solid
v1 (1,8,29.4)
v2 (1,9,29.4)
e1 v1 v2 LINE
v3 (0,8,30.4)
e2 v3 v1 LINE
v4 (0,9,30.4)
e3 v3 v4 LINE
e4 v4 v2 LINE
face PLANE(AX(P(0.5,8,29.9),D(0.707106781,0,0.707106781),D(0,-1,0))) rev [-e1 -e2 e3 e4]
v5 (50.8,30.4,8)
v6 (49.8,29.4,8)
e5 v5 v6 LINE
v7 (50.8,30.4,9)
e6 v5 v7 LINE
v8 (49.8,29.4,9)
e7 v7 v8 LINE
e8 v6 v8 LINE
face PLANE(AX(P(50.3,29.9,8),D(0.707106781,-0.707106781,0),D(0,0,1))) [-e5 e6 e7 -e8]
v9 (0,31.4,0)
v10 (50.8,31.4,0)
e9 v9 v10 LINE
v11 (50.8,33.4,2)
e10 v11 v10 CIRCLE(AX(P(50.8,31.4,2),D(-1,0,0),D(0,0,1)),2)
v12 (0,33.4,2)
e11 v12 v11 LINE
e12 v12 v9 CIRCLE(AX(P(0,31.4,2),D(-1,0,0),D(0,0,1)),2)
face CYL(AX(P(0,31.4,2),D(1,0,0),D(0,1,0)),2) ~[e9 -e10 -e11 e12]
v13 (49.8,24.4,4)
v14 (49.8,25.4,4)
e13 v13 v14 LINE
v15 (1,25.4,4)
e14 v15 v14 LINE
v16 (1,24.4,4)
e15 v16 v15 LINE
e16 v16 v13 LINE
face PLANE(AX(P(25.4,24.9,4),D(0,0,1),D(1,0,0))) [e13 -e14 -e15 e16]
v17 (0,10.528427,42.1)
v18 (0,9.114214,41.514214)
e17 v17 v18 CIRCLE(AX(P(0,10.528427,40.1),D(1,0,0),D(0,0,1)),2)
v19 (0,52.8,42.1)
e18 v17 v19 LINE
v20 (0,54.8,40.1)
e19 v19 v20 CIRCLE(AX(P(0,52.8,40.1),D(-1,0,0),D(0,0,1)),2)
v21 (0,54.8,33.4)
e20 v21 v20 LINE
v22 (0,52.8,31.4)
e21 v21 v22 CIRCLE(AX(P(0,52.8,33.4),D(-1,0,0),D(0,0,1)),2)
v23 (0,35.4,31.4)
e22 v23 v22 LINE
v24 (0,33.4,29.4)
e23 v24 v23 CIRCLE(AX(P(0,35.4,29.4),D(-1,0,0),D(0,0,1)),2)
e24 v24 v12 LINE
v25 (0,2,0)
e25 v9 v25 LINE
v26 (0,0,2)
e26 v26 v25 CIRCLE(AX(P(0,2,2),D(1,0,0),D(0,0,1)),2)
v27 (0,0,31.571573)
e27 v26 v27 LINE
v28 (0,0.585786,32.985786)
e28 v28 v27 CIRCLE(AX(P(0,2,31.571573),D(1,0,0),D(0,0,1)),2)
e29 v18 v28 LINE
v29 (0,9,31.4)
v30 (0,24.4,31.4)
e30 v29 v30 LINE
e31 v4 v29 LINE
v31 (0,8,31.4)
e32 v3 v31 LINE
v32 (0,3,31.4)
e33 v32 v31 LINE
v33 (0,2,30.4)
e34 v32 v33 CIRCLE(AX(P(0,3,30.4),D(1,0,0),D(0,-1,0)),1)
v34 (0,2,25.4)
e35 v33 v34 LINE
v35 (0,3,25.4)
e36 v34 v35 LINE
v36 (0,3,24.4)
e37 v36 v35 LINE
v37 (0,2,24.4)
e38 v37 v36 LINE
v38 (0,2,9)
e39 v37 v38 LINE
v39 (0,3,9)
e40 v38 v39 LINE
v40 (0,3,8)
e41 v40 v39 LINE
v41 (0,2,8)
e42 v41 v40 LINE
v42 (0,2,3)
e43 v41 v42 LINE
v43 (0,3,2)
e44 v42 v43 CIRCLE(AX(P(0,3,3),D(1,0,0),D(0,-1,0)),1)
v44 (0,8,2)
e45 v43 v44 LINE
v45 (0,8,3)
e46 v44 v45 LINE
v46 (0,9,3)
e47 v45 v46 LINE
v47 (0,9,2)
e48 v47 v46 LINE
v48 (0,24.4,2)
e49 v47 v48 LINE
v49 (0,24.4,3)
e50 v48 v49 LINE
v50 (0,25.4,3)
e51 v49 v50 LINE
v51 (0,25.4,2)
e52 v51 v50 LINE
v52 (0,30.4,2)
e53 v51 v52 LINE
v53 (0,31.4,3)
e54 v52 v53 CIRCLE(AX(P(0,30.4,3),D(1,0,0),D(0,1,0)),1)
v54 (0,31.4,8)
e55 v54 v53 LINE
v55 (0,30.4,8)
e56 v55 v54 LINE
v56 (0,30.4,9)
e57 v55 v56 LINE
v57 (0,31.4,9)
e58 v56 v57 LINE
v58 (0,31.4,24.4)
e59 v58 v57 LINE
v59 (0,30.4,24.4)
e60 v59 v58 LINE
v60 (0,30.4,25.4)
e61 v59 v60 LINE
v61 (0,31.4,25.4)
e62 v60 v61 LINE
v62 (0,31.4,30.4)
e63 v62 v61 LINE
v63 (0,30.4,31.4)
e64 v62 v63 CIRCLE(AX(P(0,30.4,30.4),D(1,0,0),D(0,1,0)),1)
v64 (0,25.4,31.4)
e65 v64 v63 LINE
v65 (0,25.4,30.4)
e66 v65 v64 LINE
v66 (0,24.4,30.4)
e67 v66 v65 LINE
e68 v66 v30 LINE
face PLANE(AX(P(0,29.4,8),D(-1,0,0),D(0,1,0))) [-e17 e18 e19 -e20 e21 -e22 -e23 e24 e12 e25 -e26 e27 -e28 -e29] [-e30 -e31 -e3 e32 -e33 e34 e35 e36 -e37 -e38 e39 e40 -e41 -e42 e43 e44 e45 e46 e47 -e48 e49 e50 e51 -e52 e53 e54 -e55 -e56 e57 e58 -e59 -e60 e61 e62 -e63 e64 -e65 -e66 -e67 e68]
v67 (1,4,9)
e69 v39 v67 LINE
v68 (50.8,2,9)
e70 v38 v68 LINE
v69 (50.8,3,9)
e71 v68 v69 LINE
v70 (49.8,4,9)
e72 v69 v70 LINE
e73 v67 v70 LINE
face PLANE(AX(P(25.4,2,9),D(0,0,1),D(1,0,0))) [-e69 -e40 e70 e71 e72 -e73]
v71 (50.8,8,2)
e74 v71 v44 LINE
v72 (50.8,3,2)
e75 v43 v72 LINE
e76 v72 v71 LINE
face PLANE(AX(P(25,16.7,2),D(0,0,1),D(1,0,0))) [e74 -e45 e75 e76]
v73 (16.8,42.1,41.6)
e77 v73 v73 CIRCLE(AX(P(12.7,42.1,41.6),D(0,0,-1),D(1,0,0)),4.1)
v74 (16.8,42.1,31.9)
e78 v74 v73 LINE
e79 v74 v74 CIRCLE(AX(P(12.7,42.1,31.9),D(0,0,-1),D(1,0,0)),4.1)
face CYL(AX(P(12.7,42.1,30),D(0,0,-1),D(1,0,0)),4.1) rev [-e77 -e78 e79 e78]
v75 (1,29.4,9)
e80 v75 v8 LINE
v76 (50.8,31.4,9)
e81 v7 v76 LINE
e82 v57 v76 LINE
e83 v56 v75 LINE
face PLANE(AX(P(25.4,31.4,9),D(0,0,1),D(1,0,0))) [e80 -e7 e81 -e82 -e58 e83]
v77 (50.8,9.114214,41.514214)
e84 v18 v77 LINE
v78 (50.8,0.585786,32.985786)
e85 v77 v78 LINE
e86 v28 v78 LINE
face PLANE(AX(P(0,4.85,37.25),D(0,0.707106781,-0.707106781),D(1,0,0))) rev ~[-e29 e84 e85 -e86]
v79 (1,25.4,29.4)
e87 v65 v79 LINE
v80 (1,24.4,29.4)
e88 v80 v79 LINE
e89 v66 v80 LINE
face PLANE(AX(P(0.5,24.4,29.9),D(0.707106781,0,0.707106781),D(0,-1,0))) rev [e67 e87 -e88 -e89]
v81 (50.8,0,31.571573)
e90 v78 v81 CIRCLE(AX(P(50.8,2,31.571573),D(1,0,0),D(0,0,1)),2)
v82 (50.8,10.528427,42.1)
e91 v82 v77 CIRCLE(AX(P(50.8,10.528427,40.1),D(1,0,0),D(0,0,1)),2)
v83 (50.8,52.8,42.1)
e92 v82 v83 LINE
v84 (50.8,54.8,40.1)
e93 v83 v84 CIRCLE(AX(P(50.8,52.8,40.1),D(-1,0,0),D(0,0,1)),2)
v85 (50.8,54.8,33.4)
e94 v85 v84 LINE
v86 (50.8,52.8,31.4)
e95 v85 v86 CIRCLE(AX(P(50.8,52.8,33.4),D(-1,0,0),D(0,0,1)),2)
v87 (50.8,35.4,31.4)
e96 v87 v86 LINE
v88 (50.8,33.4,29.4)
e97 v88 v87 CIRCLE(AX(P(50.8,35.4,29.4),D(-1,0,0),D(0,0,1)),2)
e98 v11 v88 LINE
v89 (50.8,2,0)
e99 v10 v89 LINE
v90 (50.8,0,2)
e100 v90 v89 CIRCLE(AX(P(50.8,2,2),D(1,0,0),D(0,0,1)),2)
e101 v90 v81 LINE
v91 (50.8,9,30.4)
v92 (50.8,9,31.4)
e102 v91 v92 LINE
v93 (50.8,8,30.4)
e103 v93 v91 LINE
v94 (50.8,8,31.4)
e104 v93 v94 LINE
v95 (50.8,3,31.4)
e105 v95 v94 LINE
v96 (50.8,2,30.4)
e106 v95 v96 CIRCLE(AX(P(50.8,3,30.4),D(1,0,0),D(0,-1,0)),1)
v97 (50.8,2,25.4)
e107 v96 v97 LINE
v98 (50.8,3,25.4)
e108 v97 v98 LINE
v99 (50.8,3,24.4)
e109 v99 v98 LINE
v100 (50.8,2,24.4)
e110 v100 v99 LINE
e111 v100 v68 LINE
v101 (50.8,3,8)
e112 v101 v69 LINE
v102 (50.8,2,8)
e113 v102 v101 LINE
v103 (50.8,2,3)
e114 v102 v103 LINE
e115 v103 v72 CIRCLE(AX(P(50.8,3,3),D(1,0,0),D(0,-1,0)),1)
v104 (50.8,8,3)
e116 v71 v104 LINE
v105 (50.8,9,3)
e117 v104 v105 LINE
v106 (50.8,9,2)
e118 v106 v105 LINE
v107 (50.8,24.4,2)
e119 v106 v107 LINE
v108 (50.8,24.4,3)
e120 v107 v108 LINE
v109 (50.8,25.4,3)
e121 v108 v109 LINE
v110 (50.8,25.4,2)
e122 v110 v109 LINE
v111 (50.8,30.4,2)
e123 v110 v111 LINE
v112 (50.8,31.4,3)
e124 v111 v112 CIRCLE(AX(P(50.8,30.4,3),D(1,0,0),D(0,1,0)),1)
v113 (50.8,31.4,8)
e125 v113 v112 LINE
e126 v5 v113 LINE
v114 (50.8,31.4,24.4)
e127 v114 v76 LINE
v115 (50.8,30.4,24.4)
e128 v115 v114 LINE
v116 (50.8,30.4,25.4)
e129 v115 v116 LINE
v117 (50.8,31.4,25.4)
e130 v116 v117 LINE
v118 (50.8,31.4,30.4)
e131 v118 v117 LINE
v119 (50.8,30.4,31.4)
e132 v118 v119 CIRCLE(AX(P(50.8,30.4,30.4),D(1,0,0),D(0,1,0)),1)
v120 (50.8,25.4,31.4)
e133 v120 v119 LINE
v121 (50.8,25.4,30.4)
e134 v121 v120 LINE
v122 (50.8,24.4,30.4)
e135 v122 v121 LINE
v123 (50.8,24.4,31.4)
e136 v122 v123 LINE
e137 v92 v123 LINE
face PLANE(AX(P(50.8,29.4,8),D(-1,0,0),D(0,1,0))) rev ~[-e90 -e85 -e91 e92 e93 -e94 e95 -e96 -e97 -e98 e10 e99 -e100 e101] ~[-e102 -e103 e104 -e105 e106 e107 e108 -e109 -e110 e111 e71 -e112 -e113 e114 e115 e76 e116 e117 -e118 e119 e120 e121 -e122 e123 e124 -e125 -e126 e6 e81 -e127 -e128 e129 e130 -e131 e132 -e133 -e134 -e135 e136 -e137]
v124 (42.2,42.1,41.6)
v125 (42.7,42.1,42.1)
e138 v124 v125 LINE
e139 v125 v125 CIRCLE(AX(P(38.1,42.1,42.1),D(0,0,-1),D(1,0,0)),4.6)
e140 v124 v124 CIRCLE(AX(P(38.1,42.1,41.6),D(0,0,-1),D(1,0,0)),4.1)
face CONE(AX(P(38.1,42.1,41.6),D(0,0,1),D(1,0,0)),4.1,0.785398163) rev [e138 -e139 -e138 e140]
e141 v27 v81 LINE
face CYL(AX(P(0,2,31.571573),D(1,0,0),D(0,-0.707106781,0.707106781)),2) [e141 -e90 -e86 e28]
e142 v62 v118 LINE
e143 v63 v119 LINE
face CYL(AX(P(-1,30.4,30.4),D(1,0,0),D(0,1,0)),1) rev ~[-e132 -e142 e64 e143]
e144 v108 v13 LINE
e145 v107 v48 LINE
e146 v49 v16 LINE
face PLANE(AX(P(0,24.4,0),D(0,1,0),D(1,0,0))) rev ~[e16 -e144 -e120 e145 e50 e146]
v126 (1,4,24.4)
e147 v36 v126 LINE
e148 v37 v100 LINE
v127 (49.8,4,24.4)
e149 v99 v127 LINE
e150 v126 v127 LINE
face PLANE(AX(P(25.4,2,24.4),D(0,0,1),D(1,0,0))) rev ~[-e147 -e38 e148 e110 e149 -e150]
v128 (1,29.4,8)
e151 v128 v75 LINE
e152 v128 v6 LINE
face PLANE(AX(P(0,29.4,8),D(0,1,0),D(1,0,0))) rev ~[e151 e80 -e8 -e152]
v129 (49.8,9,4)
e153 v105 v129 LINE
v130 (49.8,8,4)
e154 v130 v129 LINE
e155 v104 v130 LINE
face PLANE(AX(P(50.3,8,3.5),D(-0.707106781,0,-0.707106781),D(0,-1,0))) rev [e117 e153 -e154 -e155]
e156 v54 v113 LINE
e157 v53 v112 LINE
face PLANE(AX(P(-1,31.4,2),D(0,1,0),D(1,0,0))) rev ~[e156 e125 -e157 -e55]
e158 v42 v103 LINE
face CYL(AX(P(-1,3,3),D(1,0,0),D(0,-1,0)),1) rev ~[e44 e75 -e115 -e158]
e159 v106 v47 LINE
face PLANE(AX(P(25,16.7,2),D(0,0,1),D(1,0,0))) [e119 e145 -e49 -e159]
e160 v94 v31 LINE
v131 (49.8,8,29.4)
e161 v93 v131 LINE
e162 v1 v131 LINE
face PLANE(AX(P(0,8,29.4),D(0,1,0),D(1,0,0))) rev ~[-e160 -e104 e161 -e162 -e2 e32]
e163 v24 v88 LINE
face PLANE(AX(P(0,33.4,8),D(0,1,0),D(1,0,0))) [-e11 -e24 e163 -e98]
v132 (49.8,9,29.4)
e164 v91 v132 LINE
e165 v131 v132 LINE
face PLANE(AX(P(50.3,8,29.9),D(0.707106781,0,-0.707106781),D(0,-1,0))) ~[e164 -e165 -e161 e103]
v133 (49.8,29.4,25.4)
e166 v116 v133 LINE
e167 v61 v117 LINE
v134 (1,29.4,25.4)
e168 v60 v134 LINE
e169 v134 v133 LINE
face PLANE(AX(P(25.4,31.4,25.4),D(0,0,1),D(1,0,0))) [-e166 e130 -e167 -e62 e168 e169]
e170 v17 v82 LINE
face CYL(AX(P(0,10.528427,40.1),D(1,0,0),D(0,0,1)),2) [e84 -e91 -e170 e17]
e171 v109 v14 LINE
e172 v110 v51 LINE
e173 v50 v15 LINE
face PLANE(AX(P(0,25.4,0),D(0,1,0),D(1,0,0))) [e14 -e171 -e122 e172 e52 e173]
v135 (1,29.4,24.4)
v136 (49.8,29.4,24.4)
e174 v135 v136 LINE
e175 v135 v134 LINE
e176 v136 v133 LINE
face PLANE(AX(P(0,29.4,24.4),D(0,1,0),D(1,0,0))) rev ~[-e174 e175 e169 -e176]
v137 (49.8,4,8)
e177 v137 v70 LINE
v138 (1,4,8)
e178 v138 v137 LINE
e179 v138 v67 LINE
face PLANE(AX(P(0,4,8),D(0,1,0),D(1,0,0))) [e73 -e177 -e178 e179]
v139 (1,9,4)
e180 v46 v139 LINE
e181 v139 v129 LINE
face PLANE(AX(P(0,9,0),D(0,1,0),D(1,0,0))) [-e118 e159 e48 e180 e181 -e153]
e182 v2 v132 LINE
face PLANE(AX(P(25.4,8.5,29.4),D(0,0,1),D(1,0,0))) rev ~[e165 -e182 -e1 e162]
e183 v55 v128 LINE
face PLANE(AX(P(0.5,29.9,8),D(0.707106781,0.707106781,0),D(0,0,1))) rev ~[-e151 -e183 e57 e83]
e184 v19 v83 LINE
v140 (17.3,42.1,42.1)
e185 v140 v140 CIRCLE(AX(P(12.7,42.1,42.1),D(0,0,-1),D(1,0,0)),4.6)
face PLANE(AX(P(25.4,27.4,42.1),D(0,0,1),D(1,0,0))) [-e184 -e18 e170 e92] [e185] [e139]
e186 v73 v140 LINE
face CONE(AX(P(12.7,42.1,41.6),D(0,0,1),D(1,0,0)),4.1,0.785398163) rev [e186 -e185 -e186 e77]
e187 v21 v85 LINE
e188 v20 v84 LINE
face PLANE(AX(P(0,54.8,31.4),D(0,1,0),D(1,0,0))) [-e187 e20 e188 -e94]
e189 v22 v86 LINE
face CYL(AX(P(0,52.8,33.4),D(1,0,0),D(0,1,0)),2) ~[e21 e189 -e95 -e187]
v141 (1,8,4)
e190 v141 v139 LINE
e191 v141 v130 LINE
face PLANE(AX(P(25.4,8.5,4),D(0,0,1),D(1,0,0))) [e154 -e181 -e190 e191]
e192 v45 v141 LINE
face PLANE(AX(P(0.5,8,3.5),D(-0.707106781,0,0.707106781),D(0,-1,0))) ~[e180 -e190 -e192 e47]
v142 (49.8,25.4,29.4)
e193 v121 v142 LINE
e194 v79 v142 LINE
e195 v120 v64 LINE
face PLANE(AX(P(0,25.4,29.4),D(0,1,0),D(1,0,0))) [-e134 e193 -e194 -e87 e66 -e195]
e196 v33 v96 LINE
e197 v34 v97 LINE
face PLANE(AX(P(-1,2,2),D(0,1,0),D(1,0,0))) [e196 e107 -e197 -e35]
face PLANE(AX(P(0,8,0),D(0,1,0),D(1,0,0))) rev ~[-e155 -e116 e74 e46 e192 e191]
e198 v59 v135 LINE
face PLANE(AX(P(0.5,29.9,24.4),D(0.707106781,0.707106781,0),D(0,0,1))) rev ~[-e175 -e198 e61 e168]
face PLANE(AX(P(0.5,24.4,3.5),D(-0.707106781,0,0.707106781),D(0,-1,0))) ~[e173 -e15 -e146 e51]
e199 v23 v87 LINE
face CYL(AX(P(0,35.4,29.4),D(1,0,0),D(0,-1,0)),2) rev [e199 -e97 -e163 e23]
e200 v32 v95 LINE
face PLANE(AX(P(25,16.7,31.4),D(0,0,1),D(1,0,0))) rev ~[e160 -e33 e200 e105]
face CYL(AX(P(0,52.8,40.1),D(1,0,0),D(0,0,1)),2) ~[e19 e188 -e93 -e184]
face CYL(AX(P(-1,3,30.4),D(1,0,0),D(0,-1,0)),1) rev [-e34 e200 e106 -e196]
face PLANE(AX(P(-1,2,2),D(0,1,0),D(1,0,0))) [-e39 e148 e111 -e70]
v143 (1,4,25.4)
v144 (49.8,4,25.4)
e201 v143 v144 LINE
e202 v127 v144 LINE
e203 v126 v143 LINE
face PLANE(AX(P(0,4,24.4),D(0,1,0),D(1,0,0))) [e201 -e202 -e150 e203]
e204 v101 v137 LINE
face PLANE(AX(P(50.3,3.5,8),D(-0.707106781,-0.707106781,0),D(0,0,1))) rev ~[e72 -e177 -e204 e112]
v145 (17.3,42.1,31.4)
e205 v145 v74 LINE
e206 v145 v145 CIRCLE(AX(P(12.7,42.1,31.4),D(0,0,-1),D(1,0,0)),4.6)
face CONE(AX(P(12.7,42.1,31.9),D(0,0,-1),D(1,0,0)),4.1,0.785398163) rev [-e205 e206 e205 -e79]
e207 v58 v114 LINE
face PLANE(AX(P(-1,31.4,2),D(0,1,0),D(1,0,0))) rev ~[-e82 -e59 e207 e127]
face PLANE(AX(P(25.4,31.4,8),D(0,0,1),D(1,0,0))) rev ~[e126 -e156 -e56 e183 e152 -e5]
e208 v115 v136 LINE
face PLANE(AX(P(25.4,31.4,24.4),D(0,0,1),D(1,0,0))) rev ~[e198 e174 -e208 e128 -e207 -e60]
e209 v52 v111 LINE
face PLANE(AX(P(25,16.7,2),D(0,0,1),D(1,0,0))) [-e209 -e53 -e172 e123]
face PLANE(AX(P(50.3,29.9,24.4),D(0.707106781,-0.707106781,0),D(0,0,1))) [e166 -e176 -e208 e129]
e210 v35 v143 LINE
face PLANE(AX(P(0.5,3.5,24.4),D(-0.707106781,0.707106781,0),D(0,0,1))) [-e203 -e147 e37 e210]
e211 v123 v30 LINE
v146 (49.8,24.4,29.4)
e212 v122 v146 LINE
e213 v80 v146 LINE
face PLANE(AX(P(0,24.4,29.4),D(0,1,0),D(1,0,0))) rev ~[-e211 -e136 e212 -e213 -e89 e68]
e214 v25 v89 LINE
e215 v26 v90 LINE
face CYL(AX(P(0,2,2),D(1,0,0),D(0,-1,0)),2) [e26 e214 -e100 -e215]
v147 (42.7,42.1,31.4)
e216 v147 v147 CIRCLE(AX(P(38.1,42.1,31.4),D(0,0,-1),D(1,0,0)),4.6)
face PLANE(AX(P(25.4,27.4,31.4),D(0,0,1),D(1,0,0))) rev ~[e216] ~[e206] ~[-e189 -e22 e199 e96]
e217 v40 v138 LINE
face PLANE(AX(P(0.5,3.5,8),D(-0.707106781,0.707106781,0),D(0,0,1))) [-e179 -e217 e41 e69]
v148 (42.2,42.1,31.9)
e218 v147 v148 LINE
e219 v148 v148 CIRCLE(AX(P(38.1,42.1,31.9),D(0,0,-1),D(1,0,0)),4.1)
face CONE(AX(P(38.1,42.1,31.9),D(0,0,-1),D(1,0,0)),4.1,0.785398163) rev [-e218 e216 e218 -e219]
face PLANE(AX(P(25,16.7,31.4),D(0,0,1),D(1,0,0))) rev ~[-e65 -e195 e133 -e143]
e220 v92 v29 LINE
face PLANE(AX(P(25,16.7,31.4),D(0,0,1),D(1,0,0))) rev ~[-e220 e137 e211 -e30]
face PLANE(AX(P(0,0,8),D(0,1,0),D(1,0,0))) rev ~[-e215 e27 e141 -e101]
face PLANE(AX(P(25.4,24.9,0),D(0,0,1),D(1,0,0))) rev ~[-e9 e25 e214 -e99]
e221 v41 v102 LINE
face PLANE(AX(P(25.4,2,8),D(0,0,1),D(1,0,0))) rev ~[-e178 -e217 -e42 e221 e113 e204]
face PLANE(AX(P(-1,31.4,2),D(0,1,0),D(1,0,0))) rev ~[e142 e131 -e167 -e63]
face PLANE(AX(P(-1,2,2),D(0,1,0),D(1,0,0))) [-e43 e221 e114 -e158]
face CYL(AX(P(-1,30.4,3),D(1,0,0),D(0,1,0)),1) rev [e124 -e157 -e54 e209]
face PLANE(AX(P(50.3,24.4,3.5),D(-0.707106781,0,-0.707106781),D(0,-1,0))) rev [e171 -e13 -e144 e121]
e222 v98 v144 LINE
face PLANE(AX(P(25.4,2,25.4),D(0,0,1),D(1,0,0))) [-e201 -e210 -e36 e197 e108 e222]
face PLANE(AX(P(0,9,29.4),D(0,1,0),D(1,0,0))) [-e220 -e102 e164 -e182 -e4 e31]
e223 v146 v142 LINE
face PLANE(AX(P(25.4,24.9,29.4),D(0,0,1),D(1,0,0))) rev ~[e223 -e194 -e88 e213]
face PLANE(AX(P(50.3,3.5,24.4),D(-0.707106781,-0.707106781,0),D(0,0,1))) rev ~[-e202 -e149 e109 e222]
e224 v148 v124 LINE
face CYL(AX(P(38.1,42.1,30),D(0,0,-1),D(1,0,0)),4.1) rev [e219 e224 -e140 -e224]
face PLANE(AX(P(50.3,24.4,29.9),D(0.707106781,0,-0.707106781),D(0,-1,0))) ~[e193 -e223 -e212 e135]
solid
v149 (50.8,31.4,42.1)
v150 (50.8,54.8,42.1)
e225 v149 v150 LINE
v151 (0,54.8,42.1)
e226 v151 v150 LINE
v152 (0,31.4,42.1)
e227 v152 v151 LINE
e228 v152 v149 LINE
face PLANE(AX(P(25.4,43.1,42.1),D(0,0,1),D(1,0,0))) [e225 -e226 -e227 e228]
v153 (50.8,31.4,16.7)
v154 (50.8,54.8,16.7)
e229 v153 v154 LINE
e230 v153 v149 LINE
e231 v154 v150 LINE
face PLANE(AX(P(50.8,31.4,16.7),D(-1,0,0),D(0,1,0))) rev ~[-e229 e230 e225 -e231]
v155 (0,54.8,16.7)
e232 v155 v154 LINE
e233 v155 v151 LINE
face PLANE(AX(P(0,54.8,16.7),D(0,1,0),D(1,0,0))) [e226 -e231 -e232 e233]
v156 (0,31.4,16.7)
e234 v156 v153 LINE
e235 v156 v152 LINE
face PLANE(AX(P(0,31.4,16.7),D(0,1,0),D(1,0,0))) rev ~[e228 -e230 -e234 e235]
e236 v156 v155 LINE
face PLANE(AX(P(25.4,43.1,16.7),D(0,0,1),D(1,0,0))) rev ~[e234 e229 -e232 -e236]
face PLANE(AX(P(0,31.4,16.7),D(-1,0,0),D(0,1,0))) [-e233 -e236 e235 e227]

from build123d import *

# Parameters (mm, degrees)
BOX011_W          = 50.8
BOX011_H          = 23.4
BOX011_DEPTH      = 25.4
BOX005_W          = 50.8
BOX005_H          = 4
BOX005_DEPTH      = 1
BOX008_W          = 50.8
BOX008_H          = 1
BOX008_DEPTH      = 4
BOX009_W          = 50.8
BOX009_H          = 1
BOX009_DEPTH      = 4
BOX003_W          = 50.8
BOX003_H          = 4
BOX003_DEPTH      = 1
BOX002_W          = 50.8
BOX002_H          = 4
BOX002_DEPTH      = 1
BOX006_W          = 50.8
BOX006_H          = 1
BOX006_DEPTH      = 4
BOX007_W          = 50.8
BOX007_H          = 1
BOX007_DEPTH      = 4
BOX004_W          = 50.8
BOX004_H          = 4
BOX004_DEPTH      = 1
CYLINDER001_R     = 4.1
CYLINDER001_DEPTH = 14
CYLINDER_R        = 4.1
CYLINDER_DEPTH    = 14
BOX010_W          = 50.8
BOX010_H          = 54.8
BOX010_DEPTH      = 10.7
BOX_W             = 52
BOX_H             = 29.4
BOX_DEPTH         = 29.4
FILLET001_R       = 1
BOX001_W          = 50.8
BOX001_H          = 33.4
BOX001_DEPTH      = 33.4
FILLET_R          = 2
FILLET002_R       = 2
CHAMFER_SIZE      = 9.7
FILLET003_R       = 2
FILLET004_R       = 2
FILLET005_R       = 2
CHAMFER001_SIZE   = 0.5
CHAMFER002_SIZE   = 1


with BuildPart() as cube011:
    # Box011 → Box011 (new body)
    with BuildSketch(Plane(origin=(0, 31.4, 16.7), x_dir=(1, 0, 0), z_dir=(0, 0, 1))):
        with Locations((25.4, 11.7)):
            Rectangle(BOX011_W, BOX011_H)
    extrude(amount=BOX011_DEPTH)


with BuildPart() as cube005:
    # Box005 → Box005 (new body)
    with BuildSketch(Plane(origin=(0, 29.4, 24.4), x_dir=(1, 0, 0), z_dir=(0, 0, 1))):
        with Locations((25.4, 2)):
            Rectangle(BOX005_W, BOX005_H)
    extrude(amount=BOX005_DEPTH)


with BuildPart() as cube008:
    # Box008 → Box008 (new body)
    with BuildSketch(Plane(origin=(0, 24.4, 29.4), x_dir=(1, 0, 0), z_dir=(0, 0, 1))):
        with Locations((25.4, 0.5)):
            Rectangle(BOX008_W, BOX008_H)
    extrude(amount=BOX008_DEPTH)


with BuildPart() as cube009:
    # Box009 → Box009 (new body)
    with BuildSketch(Plane(origin=(0, 8, 29.4), x_dir=(1, 0, 0), z_dir=(0, 0, 1))):
        with Locations((25.4, 0.5)):
            Rectangle(BOX009_W, BOX009_H)
    extrude(amount=BOX009_DEPTH)


with BuildPart() as cube003:
    # Box003 → Box003 (new body)
    with BuildSketch(Plane.XY.offset(24.4)):
        with Locations((25.4, 2)):
            Rectangle(BOX003_W, BOX003_H)
    extrude(amount=BOX003_DEPTH)


with BuildPart() as cube002:
    # Box002 → Box002 (new body)
    with BuildSketch(Plane.XY.offset(8)):
        with Locations((25.4, 2)):
            Rectangle(BOX002_W, BOX002_H)
    extrude(amount=BOX002_DEPTH)


with BuildPart() as cube006:
    # Box006 → Box006 (new body)
    with BuildSketch(Plane(origin=(0, 8, 0), x_dir=(1, 0, 0), z_dir=(0, 0, 1))):
        with Locations((25.4, 0.5)):
            Rectangle(BOX006_W, BOX006_H)
    extrude(amount=BOX006_DEPTH)


with BuildPart() as cube007:
    # Box007 → Box007 (new body)
    with BuildSketch(Plane(origin=(0, 24.4, 0), x_dir=(1, 0, 0), z_dir=(0, 0, 1))):
        with Locations((25.4, 0.5)):
            Rectangle(BOX007_W, BOX007_H)
    extrude(amount=BOX007_DEPTH)


with BuildPart() as cube004:
    # Box004 → Box004 (new body)
    with BuildSketch(Plane(origin=(0, 29.4, 8), x_dir=(1, 0, 0), z_dir=(0, 0, 1))):
        with Locations((25.4, 2)):
            Rectangle(BOX004_W, BOX004_H)
    extrude(amount=BOX004_DEPTH)


with BuildPart() as cylinder001:
    # Cylinder001 → Cylinder001 (new body)
    with BuildSketch(Plane(origin=(38.1, 42.1, 30), x_dir=(1, 0, 0), z_dir=(0, 0, 1))):
        Circle(CYLINDER001_R)
    extrude(amount=CYLINDER001_DEPTH)


with BuildPart() as cylinder:
    # Cylinder → Cylinder (new body)
    with BuildSketch(Plane(origin=(12.7, 42.1, 30), x_dir=(1, 0, 0), z_dir=(0, 0, 1))):
        Circle(CYLINDER_R)
    extrude(amount=CYLINDER_DEPTH)


with BuildPart() as cube010:
    # Box010 → Box010 (new body)
    with BuildSketch(Plane.XY.offset(31.4)):
        with Locations((25.4, 27.4)):
            Rectangle(BOX010_W, BOX010_H)
    extrude(amount=BOX010_DEPTH)


with BuildPart() as fillet001:
    # Box → Box (new body)
    with BuildSketch(Plane(origin=(-1, 2, 2), x_dir=(1, 0, 0), z_dir=(0, 0, 1))):
        with Locations((26, 14.7)):
            Rectangle(BOX_W, BOX_H)
    extrude(amount=BOX_DEPTH)

    # Fillet001
    fillet001_edges = [fillet001.edges().sort_by_distance(p)[0] for p in [
        (25, 2, 31.4),
        (25, 2, 2),
        (25, 31.4, 31.4),
        (25, 31.4, 2),
    ]]
    fillet(fillet001_edges, radius=FILLET001_R)


with BuildPart() as chamfer002:
    # Box001 → Box001 (new body)
    with BuildSketch(Plane.XY):
        with Locations((25.4, 16.7)):
            Rectangle(BOX001_W, BOX001_H)
    extrude(amount=BOX001_DEPTH)

    # Fillet
    fillet_edges = [chamfer002.edges().sort_by_distance(p)[0] for p in [
        (25.4, 33.4, 0),
        (25.4, 0, 0),
        (25.4, 0, 33.4),
        (25.4, 33.4, 33.4),
    ]]
    fillet(fillet_edges, radius=FILLET_R)

    # Cut: cut Fillet001
    add(fillet001.part, mode=Mode.SUBTRACT)

    # Fusion: union Cube010
    add(cube010.part)

    # Fillet002
    fillet002_edges = [chamfer002.edges().sort_by_distance(p)[0] for p in [
        (25.4, 33.4, 31.4),
    ]]
    fillet(fillet002_edges, radius=FILLET002_R)

    # Chamfer
    chamfer_edges = [chamfer002.edges().sort_by_distance(p)[0] for p in [
        (25.4, 0, 42.1),
    ]]
    chamfer(chamfer_edges, length=CHAMFER_SIZE)

    # Fillet003
    fillet003_edges = [chamfer002.edges().sort_by_distance(p)[0] for p in [
        (25.4, 9.7, 42.1),
    ]]
    fillet(fillet003_edges, radius=FILLET003_R)

    # Fillet004
    fillet004_edges = [chamfer002.edges().sort_by_distance(p)[0] for p in [
        (25.4, 0, 32.4),
    ]]
    fillet(fillet004_edges, radius=FILLET004_R)

    # Fillet005
    fillet005_edges = [chamfer002.edges().sort_by_distance(p)[0] for p in [
        (25.4, 54.8, 42.1),
        (25.4, 54.8, 31.4),
    ]]
    fillet(fillet005_edges, radius=FILLET005_R)

    # Cut001: cut Cylinder
    add(cylinder.part, mode=Mode.SUBTRACT)

    # Cut002: cut Cylinder001
    add(cylinder001.part, mode=Mode.SUBTRACT)

    # Fusion001: union Cube005, Cube008, Cube009, Cube003, Cube002, Cube006, Cube007, Cube004
    add(cube005.part)
    add(cube008.part)
    add(cube009.part)
    add(cube003.part)
    add(cube002.part)
    add(cube006.part)
    add(cube007.part)
    add(cube004.part)

    # Chamfer001
    chamfer001_edges = [chamfer002.edges().sort_by_distance(p)[0] for p in [
        (34, 42.1, 42.1),
        (8.6, 42.1, 42.1),
        (34, 42.1, 31.4),
        (8.6, 42.1, 31.4),
    ]]
    chamfer(chamfer001_edges, length=CHAMFER001_SIZE)

    # Chamfer002
    chamfer002_edges = [chamfer002.edges().sort_by_distance(p)[0] for p in [
        (0, 8.5, 29.4),
        (0, 24.9, 29.4),
        (50.8, 8.5, 29.4),
        (50.8, 24.9, 29.4),
        (0, 29.4, 24.9),
        (50.8, 29.4, 24.9),
        (0, 4, 24.9),
        (50.8, 4, 24.9),
        (0, 29.4, 8.5),
        (50.8, 29.4, 8.5),
        (0, 4, 8.5),
        (50.8, 4, 8.5),
        (0, 24.9, 4),
        (50.8, 24.9, 4),
        (0, 8.5, 4),
        (50.8, 8.5, 4),
    ]]
    chamfer(chamfer002_edges, length=CHAMFER002_SIZE)


solid = Compound([cube011.part, chamfer002.part])
